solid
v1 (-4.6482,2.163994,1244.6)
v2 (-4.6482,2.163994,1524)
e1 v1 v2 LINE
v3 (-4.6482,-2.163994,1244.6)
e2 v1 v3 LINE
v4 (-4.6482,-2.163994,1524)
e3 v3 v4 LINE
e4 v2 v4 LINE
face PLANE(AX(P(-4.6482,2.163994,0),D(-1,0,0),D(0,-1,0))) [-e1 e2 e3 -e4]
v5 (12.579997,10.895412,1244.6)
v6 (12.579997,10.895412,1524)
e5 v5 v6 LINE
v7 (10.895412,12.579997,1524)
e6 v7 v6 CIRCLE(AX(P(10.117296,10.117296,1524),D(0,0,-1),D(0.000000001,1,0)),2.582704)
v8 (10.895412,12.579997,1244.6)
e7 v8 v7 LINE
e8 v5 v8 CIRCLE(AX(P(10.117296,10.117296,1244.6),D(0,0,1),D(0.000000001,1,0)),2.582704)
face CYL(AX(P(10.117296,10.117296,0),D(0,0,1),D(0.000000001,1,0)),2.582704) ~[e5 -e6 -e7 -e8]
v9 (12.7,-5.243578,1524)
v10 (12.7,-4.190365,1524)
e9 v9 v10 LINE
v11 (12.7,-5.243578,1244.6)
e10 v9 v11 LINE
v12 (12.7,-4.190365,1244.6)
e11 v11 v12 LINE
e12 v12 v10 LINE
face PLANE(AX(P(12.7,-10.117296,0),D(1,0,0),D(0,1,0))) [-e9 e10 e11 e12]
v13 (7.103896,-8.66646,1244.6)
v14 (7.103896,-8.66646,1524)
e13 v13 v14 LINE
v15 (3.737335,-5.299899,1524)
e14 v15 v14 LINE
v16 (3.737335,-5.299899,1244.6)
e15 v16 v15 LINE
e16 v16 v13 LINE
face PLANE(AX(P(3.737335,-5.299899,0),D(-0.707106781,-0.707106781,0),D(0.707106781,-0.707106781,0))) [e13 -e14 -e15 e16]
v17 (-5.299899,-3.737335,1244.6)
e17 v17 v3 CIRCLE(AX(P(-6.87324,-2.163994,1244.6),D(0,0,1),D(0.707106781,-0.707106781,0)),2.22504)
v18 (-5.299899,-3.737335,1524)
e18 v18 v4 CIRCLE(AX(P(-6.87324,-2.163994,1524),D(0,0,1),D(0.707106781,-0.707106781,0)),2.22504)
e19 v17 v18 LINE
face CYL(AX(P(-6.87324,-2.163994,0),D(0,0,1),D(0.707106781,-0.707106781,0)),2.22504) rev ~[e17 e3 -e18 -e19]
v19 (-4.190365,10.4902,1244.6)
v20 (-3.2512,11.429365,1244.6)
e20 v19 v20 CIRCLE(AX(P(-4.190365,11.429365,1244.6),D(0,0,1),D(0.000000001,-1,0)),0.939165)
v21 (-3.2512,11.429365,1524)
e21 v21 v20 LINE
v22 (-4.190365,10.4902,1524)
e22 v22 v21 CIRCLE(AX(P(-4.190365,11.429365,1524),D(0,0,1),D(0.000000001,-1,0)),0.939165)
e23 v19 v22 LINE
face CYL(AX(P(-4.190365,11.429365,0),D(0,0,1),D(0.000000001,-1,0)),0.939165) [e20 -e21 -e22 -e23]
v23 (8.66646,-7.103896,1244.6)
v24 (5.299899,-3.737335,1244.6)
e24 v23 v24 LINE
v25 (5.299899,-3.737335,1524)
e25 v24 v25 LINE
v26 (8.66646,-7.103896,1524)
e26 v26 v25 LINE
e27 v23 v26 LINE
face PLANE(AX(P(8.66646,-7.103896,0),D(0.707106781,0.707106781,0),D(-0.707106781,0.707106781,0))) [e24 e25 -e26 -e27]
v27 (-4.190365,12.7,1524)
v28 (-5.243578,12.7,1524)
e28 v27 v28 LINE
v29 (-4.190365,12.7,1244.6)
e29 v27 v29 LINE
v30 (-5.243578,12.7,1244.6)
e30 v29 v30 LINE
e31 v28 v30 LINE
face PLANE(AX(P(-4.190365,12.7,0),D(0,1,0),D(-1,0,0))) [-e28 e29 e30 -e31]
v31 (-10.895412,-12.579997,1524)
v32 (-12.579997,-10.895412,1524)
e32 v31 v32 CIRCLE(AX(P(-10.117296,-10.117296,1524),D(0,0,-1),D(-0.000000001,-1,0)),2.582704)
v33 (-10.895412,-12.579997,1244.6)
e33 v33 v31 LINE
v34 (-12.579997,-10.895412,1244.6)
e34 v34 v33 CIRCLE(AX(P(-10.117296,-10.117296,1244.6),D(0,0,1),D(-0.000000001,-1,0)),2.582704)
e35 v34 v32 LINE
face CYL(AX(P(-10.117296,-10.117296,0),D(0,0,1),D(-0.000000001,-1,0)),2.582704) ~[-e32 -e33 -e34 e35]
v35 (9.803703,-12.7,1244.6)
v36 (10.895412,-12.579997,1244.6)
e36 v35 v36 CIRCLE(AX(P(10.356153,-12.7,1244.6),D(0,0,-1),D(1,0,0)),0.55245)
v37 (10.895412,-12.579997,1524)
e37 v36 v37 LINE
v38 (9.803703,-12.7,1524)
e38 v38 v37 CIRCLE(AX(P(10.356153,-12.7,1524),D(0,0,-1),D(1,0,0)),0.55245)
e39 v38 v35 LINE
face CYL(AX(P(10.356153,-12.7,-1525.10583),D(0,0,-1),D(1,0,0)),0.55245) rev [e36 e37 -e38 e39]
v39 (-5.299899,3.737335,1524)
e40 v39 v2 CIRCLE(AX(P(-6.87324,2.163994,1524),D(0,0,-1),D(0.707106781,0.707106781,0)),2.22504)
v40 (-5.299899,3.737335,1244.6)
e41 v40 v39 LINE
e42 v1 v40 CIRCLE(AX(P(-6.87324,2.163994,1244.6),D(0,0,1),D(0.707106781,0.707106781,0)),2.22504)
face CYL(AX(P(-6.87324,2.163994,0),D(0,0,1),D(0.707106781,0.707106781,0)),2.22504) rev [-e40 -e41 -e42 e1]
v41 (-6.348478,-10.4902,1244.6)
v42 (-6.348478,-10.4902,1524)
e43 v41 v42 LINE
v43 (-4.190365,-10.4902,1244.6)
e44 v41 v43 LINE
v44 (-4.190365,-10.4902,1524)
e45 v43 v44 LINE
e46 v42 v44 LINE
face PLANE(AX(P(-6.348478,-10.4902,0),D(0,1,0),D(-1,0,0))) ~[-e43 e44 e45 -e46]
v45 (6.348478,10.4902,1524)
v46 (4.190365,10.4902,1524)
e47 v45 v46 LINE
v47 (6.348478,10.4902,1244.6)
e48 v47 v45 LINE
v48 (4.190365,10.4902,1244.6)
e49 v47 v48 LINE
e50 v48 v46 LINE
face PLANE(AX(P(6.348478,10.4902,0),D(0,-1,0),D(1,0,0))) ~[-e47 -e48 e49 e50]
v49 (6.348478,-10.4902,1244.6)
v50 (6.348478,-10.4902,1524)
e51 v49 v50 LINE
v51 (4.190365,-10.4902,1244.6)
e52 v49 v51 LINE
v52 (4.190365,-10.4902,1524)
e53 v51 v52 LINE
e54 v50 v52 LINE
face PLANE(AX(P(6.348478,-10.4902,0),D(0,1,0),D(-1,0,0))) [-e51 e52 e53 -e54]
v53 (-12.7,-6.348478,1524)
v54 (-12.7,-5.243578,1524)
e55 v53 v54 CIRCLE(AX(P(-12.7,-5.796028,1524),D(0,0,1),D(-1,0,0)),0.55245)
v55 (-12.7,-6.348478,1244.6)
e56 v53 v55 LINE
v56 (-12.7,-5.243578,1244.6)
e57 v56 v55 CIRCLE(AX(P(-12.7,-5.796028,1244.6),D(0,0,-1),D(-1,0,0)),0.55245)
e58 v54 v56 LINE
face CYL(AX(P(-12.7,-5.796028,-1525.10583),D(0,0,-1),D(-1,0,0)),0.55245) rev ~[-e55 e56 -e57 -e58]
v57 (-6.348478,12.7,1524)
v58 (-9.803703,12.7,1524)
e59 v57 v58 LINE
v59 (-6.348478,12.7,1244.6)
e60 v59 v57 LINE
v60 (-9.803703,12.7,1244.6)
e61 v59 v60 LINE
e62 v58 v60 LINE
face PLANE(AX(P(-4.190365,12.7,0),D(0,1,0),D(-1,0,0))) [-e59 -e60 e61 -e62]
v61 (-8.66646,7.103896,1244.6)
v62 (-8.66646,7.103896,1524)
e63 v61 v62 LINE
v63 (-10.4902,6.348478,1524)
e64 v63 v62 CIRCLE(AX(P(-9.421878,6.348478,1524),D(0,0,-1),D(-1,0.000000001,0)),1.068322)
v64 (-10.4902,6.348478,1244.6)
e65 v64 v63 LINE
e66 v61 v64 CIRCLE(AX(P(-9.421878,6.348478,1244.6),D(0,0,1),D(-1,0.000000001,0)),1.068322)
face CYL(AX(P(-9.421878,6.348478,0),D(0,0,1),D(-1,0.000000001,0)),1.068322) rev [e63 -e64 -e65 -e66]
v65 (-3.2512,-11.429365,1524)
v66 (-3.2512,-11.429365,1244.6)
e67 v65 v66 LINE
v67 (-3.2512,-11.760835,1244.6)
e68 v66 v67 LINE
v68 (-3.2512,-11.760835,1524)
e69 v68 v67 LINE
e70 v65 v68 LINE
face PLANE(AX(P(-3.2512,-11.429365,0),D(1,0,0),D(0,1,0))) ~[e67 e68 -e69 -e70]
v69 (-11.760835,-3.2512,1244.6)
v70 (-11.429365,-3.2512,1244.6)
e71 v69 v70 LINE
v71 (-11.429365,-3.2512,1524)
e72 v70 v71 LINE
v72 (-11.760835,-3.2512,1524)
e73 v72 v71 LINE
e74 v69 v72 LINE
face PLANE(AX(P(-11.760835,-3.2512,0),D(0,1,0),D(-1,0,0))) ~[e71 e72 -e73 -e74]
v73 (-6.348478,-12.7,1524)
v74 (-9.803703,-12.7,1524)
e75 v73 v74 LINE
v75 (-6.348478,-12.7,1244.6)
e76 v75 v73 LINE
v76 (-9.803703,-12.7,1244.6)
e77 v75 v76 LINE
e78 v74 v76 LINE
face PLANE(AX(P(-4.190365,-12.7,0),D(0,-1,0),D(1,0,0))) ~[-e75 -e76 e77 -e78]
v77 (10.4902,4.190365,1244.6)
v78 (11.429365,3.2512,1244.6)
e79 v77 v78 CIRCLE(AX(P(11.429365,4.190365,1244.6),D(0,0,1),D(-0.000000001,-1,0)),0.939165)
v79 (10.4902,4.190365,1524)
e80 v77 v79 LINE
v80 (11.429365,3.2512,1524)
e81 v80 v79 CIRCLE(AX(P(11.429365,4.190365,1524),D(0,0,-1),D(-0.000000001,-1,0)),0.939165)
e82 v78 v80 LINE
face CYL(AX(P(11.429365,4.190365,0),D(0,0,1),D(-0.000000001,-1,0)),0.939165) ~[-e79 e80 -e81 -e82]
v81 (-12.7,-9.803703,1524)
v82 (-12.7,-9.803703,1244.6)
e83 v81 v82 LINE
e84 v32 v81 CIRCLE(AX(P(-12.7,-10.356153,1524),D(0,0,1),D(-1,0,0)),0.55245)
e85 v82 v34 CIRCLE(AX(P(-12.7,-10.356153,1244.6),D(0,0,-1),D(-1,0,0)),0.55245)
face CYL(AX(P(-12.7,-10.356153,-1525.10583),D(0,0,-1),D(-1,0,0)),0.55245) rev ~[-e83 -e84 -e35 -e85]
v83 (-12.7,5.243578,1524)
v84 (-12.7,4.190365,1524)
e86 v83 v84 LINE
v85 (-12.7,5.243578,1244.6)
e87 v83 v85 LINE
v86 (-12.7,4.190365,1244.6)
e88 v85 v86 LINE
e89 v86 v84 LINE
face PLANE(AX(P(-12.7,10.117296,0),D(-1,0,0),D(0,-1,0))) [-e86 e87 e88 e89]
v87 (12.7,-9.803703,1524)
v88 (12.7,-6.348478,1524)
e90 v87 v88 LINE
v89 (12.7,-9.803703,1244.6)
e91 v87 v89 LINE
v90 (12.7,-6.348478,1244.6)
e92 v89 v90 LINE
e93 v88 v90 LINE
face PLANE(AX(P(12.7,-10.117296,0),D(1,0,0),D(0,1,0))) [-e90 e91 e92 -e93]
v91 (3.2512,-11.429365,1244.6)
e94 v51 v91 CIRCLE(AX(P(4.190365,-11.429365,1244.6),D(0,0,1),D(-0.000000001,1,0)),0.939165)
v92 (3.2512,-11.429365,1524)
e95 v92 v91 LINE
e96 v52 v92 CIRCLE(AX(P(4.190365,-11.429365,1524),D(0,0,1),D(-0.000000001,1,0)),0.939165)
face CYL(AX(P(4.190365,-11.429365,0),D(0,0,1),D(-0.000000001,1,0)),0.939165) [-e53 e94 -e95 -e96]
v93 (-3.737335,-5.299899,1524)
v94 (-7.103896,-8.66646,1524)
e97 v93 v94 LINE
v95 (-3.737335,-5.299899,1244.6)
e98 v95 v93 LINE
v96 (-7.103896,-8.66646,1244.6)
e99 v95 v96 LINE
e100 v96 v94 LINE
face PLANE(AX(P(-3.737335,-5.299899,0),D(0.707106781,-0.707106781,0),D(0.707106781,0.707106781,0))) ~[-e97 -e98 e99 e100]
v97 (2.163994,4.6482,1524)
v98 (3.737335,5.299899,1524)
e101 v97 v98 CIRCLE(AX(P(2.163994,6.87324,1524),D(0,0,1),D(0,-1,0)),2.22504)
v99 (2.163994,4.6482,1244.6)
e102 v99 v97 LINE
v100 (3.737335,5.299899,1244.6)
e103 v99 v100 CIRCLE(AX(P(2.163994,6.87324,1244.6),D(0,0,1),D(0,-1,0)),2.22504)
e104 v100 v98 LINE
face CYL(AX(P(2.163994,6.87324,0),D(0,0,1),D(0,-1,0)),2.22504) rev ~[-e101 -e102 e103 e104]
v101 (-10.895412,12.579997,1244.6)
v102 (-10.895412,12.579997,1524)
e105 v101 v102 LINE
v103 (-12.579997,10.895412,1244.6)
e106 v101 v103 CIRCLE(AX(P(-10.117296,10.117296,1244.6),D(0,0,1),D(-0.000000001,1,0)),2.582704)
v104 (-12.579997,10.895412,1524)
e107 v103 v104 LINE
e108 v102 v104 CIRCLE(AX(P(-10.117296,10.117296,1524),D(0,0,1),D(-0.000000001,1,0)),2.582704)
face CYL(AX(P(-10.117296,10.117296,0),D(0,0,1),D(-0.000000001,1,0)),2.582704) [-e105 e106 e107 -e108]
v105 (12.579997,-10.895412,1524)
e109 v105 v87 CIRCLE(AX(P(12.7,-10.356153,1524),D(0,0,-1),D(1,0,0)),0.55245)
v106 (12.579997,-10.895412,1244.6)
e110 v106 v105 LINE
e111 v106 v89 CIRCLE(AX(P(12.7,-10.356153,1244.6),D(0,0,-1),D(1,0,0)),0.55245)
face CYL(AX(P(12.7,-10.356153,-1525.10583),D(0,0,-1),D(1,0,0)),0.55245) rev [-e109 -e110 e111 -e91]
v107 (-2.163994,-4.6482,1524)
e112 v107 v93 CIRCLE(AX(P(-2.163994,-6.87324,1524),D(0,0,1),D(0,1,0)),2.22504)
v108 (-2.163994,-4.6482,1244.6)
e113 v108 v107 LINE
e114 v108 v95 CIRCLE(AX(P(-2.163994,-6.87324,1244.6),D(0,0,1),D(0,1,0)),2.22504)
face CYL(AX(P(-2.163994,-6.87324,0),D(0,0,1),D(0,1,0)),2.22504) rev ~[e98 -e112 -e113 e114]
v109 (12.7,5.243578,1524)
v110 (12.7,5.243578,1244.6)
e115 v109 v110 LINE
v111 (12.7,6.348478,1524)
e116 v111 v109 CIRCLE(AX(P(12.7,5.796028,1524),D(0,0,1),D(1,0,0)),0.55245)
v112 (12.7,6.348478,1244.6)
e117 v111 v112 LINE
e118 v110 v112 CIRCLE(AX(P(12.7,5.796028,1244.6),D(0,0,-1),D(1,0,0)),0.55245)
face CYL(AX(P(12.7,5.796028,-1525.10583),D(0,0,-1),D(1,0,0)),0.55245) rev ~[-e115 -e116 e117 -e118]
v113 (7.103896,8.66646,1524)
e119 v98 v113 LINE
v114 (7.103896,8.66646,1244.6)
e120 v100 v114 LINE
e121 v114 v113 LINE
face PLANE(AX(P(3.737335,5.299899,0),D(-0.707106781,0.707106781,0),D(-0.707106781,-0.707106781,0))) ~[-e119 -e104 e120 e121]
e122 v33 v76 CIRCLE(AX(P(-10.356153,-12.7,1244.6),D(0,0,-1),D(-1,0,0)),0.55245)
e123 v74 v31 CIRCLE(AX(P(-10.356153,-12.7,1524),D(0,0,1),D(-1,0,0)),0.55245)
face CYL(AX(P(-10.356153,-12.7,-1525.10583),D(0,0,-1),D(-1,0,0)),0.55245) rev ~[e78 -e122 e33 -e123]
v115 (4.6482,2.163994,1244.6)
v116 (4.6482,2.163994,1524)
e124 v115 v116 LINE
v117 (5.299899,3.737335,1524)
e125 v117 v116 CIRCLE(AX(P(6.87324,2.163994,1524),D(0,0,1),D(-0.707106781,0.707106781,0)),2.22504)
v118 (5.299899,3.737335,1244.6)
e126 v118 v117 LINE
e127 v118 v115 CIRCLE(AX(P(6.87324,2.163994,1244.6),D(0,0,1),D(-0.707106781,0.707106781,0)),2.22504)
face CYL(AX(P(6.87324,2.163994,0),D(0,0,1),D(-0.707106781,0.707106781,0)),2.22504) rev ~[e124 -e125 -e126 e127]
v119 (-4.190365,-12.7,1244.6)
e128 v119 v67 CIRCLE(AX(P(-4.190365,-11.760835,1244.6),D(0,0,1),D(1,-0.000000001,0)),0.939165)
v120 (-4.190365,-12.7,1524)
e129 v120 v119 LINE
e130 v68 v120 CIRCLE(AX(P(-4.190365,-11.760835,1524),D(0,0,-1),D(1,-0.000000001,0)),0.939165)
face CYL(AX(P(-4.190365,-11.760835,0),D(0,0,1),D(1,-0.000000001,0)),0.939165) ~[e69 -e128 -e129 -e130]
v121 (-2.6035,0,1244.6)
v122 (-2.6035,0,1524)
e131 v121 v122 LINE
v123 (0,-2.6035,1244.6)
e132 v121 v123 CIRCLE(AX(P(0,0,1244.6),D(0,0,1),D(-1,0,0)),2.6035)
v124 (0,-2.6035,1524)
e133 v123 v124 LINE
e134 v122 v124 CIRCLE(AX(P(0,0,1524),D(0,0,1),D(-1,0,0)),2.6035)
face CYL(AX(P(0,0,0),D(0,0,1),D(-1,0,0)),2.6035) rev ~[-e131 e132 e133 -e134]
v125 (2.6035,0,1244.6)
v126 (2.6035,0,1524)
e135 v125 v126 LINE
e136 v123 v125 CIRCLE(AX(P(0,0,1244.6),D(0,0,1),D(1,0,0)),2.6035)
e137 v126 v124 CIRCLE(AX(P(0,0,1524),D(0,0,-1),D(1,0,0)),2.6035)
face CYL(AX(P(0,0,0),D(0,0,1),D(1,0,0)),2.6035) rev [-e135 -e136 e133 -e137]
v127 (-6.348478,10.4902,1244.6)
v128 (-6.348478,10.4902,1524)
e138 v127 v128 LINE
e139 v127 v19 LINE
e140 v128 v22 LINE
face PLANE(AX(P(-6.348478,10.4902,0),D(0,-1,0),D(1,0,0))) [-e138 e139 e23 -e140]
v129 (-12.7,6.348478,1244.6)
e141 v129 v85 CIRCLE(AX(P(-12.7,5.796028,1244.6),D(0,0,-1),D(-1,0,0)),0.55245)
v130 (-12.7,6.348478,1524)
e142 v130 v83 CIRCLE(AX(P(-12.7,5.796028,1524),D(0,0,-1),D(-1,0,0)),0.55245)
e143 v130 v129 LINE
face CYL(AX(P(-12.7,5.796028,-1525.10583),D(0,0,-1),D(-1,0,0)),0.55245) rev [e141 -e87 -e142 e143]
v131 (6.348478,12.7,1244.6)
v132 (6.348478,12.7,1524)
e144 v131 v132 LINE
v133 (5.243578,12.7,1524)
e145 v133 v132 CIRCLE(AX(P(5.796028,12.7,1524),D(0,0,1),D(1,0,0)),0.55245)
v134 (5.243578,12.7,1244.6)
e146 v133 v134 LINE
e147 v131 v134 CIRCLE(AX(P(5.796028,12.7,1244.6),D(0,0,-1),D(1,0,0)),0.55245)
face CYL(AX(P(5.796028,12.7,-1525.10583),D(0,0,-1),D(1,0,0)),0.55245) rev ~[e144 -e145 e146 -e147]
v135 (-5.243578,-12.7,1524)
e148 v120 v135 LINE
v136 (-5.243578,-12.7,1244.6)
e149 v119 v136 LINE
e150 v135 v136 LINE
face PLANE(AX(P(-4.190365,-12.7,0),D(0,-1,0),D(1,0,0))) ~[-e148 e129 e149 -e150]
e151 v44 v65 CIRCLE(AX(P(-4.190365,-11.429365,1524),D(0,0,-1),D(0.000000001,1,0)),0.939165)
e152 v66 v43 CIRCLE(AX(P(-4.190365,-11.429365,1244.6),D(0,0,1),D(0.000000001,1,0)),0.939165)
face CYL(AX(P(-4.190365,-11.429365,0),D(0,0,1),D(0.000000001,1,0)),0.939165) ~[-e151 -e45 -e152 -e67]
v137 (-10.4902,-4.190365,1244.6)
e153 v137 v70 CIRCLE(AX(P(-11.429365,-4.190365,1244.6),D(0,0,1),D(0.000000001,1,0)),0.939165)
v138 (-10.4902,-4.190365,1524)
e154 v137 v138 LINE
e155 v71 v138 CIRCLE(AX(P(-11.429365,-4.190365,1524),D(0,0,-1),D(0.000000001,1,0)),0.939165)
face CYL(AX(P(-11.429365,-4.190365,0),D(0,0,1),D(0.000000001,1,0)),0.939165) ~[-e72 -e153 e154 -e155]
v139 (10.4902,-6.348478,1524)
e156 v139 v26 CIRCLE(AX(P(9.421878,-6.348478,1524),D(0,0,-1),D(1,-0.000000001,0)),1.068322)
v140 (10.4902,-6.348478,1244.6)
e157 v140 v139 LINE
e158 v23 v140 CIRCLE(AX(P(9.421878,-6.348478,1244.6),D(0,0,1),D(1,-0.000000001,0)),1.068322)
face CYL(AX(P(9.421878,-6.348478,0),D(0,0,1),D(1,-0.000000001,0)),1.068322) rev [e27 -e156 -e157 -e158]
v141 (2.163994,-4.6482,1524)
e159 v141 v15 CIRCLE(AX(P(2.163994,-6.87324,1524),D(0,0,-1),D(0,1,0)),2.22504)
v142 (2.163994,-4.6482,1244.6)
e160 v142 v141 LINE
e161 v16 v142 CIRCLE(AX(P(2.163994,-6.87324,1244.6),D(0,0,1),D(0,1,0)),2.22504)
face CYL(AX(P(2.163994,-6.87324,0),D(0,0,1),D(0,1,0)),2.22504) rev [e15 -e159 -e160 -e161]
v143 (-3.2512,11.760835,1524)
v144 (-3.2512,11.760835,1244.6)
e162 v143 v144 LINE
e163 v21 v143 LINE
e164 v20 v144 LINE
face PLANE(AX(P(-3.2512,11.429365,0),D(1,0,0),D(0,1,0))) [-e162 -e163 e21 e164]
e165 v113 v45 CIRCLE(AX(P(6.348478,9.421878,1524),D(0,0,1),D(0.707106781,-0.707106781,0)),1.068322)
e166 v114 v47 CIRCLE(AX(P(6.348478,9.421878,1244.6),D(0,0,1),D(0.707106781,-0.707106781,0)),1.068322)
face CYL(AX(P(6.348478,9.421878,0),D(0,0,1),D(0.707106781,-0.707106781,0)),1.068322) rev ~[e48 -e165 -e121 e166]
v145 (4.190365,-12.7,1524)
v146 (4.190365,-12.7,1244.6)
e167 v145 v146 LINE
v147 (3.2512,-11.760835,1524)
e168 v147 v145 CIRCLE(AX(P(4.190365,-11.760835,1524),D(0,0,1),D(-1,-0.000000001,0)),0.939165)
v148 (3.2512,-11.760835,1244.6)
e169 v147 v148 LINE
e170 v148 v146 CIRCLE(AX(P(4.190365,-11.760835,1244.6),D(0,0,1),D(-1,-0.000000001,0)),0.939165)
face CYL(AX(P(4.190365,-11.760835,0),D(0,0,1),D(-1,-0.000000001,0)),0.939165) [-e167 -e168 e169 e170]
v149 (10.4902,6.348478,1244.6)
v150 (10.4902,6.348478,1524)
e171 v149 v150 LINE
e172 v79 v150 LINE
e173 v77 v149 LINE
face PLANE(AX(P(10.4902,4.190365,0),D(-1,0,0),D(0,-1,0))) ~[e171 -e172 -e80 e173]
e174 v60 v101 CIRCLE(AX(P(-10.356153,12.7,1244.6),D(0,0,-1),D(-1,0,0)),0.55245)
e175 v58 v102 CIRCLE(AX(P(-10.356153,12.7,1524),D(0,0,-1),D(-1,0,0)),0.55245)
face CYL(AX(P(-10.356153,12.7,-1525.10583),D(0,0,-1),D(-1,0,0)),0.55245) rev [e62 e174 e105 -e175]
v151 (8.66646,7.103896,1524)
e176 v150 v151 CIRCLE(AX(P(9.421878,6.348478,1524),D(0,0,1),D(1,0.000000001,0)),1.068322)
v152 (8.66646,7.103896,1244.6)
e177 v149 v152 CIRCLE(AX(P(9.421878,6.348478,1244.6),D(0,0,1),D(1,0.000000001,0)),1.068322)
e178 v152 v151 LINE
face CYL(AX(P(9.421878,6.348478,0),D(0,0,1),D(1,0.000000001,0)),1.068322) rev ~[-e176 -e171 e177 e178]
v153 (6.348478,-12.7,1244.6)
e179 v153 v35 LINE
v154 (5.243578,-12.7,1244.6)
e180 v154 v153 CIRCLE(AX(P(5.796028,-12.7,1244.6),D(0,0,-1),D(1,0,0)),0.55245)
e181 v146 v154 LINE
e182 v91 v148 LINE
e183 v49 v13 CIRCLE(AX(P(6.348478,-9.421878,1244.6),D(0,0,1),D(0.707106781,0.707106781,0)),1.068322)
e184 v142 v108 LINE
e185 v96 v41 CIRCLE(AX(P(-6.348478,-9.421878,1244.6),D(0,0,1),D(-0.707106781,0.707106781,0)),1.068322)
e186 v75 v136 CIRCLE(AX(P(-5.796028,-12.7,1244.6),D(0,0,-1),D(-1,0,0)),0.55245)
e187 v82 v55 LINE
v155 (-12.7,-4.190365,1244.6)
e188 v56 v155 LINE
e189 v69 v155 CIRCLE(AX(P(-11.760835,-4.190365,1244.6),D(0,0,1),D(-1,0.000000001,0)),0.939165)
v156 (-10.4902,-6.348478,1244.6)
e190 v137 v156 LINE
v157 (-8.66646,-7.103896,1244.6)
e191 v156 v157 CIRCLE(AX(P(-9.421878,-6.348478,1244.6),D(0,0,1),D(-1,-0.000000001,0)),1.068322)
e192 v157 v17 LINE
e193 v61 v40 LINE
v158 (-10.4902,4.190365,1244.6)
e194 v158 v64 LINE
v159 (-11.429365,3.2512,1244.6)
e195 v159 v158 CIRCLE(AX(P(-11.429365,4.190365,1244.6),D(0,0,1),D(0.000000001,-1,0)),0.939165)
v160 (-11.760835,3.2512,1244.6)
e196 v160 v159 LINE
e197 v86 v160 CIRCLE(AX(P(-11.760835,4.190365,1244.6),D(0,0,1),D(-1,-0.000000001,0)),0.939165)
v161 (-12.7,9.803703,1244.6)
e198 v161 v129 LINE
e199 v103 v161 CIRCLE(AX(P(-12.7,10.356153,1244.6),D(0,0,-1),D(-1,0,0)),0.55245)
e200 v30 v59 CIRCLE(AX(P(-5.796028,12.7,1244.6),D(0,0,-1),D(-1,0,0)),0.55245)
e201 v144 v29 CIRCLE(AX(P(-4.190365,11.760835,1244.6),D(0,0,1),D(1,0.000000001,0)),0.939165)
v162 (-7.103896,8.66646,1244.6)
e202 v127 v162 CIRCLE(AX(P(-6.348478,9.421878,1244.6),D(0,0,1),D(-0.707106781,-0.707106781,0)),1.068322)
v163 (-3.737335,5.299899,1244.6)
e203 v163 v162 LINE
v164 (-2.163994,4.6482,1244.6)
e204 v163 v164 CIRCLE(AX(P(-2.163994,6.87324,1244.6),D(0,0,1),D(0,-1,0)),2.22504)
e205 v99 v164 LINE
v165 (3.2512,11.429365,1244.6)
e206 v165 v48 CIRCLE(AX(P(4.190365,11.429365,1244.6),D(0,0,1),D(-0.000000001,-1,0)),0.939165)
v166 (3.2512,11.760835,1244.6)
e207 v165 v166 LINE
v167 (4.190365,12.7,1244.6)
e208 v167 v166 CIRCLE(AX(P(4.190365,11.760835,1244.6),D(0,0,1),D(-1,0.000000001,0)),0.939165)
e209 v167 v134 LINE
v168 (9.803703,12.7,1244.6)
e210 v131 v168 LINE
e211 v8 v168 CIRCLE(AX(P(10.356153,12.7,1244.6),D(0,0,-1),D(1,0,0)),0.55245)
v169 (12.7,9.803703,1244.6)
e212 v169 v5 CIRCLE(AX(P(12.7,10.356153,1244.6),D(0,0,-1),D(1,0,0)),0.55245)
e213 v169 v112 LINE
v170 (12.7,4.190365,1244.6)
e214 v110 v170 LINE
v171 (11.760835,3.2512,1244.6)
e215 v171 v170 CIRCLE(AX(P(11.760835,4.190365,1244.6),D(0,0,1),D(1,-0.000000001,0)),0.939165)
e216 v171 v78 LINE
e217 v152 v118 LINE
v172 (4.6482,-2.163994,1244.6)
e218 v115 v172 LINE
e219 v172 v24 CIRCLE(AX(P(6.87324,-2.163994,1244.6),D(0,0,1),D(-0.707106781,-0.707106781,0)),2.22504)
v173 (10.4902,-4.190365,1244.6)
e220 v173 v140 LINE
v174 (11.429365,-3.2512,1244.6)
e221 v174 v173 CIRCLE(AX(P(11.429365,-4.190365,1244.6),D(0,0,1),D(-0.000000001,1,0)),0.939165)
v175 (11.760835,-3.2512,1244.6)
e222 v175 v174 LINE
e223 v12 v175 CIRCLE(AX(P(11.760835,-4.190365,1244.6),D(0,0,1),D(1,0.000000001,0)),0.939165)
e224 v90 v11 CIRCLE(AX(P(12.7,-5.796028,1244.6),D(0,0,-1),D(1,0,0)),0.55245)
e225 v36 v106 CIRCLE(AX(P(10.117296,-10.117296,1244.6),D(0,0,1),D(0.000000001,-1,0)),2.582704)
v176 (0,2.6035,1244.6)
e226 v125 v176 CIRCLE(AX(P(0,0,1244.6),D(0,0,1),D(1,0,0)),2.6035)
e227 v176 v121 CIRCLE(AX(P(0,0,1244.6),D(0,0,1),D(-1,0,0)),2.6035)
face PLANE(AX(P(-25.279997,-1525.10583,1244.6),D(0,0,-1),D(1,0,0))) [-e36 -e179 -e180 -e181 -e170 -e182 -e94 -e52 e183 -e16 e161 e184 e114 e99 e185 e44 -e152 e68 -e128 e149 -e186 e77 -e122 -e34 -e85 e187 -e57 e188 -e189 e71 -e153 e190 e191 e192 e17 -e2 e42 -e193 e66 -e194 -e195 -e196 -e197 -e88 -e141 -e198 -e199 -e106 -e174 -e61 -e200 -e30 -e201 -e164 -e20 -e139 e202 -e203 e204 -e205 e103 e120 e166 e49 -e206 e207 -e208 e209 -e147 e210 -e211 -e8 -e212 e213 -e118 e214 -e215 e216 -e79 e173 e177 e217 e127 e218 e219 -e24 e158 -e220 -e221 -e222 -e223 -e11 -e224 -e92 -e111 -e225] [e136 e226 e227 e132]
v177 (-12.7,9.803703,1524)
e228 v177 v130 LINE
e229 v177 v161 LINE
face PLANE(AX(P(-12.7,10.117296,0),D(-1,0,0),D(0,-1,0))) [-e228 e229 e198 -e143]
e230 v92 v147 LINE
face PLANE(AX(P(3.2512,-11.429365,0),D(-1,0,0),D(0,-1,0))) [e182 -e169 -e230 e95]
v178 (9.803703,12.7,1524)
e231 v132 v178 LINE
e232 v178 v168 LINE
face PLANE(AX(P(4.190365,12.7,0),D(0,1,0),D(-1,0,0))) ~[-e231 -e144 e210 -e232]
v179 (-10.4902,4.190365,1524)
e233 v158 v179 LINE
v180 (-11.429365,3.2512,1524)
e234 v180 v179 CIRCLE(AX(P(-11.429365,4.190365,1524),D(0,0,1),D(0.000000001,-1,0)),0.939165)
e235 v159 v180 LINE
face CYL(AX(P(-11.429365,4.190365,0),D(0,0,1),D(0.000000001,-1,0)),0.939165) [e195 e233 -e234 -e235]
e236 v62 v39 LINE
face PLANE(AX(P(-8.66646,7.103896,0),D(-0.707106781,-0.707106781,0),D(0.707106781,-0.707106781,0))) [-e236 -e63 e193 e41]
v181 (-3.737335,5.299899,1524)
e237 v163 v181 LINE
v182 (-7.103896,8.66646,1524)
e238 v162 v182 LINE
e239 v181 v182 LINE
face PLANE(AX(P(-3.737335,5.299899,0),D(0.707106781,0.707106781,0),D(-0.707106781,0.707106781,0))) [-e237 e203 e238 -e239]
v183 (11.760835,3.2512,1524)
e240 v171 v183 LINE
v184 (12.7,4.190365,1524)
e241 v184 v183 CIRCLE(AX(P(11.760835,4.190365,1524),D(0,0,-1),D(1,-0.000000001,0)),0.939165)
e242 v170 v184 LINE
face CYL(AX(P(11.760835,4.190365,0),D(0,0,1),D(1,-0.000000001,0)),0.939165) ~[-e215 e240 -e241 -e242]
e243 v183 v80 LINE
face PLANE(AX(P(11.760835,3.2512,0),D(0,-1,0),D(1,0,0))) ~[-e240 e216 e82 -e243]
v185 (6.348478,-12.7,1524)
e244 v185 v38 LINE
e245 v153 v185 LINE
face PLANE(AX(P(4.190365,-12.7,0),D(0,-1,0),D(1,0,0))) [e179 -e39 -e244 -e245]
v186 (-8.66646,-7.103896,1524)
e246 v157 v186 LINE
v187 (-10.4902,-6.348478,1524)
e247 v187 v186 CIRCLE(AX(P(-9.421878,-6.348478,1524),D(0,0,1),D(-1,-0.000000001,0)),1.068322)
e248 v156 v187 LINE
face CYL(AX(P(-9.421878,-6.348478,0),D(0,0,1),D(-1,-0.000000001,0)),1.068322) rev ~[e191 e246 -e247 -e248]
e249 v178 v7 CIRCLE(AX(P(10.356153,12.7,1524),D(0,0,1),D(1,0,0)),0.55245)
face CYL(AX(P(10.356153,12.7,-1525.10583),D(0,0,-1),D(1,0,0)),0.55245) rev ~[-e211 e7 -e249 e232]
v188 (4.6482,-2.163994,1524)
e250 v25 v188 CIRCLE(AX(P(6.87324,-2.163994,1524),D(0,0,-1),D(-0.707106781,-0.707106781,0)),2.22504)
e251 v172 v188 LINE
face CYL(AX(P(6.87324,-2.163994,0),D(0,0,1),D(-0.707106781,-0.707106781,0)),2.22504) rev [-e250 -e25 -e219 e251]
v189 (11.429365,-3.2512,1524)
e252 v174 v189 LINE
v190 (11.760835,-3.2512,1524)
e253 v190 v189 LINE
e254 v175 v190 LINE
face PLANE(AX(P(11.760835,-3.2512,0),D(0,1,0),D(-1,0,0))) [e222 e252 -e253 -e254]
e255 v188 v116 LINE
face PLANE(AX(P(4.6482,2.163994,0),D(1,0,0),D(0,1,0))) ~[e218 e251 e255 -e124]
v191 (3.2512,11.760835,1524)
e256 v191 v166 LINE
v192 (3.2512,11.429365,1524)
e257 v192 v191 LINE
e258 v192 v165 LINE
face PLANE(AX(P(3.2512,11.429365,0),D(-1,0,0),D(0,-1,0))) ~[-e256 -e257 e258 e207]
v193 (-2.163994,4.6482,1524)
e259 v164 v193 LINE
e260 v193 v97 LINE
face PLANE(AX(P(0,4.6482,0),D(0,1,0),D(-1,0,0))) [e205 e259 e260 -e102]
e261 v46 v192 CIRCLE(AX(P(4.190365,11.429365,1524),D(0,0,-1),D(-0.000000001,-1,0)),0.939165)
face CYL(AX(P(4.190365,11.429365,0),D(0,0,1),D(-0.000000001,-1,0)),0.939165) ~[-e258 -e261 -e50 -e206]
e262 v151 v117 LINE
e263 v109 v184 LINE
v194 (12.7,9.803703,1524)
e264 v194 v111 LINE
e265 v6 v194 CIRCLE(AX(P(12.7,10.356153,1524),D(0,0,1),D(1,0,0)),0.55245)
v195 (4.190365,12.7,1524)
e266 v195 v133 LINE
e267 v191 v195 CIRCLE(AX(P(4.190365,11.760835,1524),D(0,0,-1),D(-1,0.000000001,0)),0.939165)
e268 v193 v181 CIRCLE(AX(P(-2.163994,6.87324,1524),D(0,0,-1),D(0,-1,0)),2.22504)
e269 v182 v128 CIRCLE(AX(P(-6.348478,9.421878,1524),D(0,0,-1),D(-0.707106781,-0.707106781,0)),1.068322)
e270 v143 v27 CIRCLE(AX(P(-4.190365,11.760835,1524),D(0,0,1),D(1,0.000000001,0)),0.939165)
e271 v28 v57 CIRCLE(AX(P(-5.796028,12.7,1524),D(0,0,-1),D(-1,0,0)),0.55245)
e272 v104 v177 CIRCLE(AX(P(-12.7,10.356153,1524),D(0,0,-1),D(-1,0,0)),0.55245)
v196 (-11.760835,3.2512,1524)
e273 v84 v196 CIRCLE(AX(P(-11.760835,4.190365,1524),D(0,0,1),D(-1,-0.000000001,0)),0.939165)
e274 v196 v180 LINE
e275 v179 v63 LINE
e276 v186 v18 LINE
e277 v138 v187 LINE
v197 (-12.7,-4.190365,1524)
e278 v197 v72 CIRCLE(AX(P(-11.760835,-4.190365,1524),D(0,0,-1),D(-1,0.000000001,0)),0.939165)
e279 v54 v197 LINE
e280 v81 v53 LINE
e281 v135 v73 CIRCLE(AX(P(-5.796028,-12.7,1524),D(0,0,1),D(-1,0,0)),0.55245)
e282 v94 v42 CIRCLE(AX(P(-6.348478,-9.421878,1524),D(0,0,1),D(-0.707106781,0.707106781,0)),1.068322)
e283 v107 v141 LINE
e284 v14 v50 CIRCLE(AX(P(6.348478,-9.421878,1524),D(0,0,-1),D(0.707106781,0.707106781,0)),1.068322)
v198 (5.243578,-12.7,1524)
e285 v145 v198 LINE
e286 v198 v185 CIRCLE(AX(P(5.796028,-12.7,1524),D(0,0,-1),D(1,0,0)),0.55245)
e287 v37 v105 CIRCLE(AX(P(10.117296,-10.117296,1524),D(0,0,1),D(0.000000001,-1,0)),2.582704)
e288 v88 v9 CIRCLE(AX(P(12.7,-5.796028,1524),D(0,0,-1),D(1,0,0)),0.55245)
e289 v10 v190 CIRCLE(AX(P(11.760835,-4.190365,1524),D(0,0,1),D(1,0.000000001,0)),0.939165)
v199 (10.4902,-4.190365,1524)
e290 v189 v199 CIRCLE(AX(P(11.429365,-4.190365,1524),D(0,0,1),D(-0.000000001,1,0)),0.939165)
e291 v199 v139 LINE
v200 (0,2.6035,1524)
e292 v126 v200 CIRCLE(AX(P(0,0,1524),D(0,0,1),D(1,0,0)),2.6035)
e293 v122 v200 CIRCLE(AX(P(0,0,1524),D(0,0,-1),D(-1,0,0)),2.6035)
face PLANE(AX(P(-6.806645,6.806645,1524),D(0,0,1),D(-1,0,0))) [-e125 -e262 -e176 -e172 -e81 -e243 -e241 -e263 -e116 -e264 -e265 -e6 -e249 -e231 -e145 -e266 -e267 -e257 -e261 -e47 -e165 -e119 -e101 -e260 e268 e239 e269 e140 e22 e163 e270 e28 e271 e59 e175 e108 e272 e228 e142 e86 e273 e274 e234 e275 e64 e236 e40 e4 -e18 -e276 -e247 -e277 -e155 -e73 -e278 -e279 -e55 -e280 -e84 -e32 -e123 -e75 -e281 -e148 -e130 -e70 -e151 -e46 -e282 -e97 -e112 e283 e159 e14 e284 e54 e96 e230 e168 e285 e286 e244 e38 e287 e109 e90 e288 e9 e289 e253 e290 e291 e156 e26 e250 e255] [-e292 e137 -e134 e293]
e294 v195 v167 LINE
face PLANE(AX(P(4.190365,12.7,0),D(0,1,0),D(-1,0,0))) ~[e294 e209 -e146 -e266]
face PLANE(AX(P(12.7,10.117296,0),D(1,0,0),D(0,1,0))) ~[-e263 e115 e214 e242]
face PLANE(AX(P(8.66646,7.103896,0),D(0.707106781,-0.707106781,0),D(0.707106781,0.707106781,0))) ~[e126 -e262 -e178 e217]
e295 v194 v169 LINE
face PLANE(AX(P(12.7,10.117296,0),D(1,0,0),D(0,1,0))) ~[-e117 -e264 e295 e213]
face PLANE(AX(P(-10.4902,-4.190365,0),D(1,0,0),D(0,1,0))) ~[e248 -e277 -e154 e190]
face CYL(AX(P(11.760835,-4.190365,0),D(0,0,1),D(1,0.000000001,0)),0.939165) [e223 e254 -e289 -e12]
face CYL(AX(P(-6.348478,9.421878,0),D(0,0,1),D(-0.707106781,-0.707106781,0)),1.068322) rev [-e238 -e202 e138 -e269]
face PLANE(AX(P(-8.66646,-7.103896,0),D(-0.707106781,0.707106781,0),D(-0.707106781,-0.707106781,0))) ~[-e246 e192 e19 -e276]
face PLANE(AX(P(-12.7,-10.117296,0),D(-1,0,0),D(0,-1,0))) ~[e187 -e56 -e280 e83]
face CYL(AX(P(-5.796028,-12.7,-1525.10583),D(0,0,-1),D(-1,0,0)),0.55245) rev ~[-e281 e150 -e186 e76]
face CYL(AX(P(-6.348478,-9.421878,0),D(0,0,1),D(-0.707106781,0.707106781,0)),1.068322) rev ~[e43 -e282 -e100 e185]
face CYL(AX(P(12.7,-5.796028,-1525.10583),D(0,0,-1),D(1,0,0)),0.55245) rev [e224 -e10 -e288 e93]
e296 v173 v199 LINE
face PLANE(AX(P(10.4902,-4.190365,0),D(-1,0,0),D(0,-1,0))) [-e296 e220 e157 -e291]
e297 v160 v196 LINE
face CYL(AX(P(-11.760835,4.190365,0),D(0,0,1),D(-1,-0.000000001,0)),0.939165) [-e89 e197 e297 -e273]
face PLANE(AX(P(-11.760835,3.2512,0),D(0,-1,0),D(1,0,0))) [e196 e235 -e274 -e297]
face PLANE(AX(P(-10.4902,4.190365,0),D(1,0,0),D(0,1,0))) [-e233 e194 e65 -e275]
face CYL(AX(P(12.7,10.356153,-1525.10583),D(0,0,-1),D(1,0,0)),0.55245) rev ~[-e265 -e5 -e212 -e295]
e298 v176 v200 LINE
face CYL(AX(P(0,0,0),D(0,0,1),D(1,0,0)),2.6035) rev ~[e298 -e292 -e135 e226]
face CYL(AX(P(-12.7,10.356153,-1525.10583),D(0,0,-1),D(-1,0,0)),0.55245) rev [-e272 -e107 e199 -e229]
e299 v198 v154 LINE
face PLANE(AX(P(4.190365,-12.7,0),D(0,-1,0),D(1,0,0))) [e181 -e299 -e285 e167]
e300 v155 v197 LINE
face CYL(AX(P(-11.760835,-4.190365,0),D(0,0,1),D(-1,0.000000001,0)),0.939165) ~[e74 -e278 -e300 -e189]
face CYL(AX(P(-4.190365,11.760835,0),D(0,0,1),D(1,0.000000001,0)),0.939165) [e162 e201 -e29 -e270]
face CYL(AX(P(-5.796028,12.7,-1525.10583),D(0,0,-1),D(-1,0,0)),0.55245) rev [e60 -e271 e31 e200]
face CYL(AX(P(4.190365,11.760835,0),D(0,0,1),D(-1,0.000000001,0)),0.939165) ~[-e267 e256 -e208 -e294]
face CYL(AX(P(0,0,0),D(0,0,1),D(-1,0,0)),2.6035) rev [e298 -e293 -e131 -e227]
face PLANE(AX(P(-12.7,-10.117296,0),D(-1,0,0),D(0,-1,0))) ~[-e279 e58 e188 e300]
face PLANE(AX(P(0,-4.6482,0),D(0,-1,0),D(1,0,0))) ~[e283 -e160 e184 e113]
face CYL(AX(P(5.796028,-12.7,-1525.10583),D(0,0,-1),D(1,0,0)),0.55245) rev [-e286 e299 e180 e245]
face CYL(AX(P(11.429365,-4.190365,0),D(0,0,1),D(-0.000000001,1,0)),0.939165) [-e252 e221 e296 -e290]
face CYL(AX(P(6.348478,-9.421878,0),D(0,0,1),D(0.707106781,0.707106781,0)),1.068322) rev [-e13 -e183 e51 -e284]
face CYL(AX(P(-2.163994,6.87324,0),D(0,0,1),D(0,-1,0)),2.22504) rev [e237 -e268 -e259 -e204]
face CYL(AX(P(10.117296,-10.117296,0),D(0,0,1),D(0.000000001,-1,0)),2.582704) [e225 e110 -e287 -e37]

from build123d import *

# Parameters (mm, degrees)
BOSS_EXTRUDE1_DEPTH     = 1524
CUT_EXTRUDE1_DEPTH      = 1525.105829659
CUT_EXTRUDE1_DEPTH_BACK = 1525.105829659
SKETCH5_R               = 0.55245
CUT_EXTRUDE2_DEPTH      = 1525.105829659
CUT_EXTRUDE2_DEPTH_BACK = 1525.105829659
SKETCH8_W               = 50.559993734
SKETCH8_H               = 2781.3


with BuildPart() as part:
    # Sketch4 → Boss-Extrude1 (new, symmetric)
    with BuildSketch(Plane.XY):
        with BuildLine():
            Line((4.190365, -12.7), (10.11729625, -12.7))
            ThreePointArc((10.11729625, -12.7), (11.943543585, -11.943543585), (12.7, -10.11729625))
            Line((12.7, -10.11729625), (12.7, -4.190365))
            ThreePointArc((12.7, -4.190365), (12.42492494, -3.52627506), (11.760835, -3.2512))
            Line((11.760835, -3.2512), (11.429365, -3.2512))
            ThreePointArc((11.429365, -3.2512), (10.76527506, -3.52627506), (10.4902, -4.190365))
            Line((10.4902, -4.190365), (10.4902, -6.348478019))
            ThreePointArc((10.4902, -6.348478019), (9.830707141, -7.335478831), (8.666460301, -7.103895736))
            Line((8.666460301, -7.103895736), (5.299899128, -3.737334563))
            ThreePointArc((5.299899128, -3.737334563), (4.817571085, -3.015479634), (4.6482, -2.16399369))
            Line((4.6482, -2.16399369), (4.6482, 0))
            Line((4.6482, 0), (2.6035, 0))
            ThreePointArc((2.6035, 0), (1.840952505, -1.840952505), (0, -2.6035))
            Line((0, -2.6035), (0, -4.6482))
            Line((0, -4.6482), (2.16399369, -4.6482))
            ThreePointArc((2.16399369, -4.6482), (3.015479634, -4.817571085), (3.737334563, -5.299899128))
            Line((3.737334563, -5.299899128), (7.103895736, -8.666460301))
            ThreePointArc((7.103895736, -8.666460301), (7.335478831, -9.830707141), (6.348478019, -10.4902))
            Line((6.348478019, -10.4902), (4.190365, -10.4902))
            ThreePointArc((4.190365, -10.4902), (3.52627506, -10.76527506), (3.2512, -11.429365))
            Line((3.2512, -11.429365), (3.2512, -11.760835))
            ThreePointArc((3.2512, -11.760835), (3.52627506, -12.42492494), (4.190365, -12.7))
        make_face()
    extrude(amount=BOSS_EXTRUDE1_DEPTH, both=True)

    # Sketch5 → Cut-Extrude1 (cut, two sides: drawn at the far end of the back side and taken through both)
    with BuildSketch(Plane.XY.offset(-CUT_EXTRUDE1_DEPTH_BACK)):
        with Locations((10.356153152, -12.7)):
            Circle(SKETCH5_R)
        with Locations((5.796028019, -12.7)):
            Circle(SKETCH5_R)
        with Locations((12.7, -10.356153152)):
            Circle(SKETCH5_R)
        with Locations((12.7, -5.796028019)):
            Circle(SKETCH5_R)
    extrude(amount=CUT_EXTRUDE1_DEPTH + CUT_EXTRUDE1_DEPTH_BACK, mode=Mode.SUBTRACT)

    # Mirror1: part across plane


with BuildPart() as part_1:
    add(part.part)
    add(part.part.mirror(Plane(origin=(0, 0, 0), x_dir=(0, 0, 1), z_dir=(1, 0, 0))))

    # Mirror2: part across plane


with BuildPart() as part_2:
    add(part_1.part)
    add(part_1.part.mirror(Plane.ZX))

    # Sketch8 → Cut-Extrude2 (cut, two sides: drawn at the far end of the back side and taken through both)
    with BuildSketch(Plane(origin=(0, 0, 0), x_dir=(1, 0, 0), z_dir=(0, 1, 0)).offset(-CUT_EXTRUDE2_DEPTH_BACK)):
        with Locations((0, 146.05)):
            Rectangle(SKETCH8_W, SKETCH8_H)
    extrude(amount=CUT_EXTRUDE2_DEPTH + CUT_EXTRUDE2_DEPTH_BACK, mode=Mode.SUBTRACT)


solid = part_2.part
